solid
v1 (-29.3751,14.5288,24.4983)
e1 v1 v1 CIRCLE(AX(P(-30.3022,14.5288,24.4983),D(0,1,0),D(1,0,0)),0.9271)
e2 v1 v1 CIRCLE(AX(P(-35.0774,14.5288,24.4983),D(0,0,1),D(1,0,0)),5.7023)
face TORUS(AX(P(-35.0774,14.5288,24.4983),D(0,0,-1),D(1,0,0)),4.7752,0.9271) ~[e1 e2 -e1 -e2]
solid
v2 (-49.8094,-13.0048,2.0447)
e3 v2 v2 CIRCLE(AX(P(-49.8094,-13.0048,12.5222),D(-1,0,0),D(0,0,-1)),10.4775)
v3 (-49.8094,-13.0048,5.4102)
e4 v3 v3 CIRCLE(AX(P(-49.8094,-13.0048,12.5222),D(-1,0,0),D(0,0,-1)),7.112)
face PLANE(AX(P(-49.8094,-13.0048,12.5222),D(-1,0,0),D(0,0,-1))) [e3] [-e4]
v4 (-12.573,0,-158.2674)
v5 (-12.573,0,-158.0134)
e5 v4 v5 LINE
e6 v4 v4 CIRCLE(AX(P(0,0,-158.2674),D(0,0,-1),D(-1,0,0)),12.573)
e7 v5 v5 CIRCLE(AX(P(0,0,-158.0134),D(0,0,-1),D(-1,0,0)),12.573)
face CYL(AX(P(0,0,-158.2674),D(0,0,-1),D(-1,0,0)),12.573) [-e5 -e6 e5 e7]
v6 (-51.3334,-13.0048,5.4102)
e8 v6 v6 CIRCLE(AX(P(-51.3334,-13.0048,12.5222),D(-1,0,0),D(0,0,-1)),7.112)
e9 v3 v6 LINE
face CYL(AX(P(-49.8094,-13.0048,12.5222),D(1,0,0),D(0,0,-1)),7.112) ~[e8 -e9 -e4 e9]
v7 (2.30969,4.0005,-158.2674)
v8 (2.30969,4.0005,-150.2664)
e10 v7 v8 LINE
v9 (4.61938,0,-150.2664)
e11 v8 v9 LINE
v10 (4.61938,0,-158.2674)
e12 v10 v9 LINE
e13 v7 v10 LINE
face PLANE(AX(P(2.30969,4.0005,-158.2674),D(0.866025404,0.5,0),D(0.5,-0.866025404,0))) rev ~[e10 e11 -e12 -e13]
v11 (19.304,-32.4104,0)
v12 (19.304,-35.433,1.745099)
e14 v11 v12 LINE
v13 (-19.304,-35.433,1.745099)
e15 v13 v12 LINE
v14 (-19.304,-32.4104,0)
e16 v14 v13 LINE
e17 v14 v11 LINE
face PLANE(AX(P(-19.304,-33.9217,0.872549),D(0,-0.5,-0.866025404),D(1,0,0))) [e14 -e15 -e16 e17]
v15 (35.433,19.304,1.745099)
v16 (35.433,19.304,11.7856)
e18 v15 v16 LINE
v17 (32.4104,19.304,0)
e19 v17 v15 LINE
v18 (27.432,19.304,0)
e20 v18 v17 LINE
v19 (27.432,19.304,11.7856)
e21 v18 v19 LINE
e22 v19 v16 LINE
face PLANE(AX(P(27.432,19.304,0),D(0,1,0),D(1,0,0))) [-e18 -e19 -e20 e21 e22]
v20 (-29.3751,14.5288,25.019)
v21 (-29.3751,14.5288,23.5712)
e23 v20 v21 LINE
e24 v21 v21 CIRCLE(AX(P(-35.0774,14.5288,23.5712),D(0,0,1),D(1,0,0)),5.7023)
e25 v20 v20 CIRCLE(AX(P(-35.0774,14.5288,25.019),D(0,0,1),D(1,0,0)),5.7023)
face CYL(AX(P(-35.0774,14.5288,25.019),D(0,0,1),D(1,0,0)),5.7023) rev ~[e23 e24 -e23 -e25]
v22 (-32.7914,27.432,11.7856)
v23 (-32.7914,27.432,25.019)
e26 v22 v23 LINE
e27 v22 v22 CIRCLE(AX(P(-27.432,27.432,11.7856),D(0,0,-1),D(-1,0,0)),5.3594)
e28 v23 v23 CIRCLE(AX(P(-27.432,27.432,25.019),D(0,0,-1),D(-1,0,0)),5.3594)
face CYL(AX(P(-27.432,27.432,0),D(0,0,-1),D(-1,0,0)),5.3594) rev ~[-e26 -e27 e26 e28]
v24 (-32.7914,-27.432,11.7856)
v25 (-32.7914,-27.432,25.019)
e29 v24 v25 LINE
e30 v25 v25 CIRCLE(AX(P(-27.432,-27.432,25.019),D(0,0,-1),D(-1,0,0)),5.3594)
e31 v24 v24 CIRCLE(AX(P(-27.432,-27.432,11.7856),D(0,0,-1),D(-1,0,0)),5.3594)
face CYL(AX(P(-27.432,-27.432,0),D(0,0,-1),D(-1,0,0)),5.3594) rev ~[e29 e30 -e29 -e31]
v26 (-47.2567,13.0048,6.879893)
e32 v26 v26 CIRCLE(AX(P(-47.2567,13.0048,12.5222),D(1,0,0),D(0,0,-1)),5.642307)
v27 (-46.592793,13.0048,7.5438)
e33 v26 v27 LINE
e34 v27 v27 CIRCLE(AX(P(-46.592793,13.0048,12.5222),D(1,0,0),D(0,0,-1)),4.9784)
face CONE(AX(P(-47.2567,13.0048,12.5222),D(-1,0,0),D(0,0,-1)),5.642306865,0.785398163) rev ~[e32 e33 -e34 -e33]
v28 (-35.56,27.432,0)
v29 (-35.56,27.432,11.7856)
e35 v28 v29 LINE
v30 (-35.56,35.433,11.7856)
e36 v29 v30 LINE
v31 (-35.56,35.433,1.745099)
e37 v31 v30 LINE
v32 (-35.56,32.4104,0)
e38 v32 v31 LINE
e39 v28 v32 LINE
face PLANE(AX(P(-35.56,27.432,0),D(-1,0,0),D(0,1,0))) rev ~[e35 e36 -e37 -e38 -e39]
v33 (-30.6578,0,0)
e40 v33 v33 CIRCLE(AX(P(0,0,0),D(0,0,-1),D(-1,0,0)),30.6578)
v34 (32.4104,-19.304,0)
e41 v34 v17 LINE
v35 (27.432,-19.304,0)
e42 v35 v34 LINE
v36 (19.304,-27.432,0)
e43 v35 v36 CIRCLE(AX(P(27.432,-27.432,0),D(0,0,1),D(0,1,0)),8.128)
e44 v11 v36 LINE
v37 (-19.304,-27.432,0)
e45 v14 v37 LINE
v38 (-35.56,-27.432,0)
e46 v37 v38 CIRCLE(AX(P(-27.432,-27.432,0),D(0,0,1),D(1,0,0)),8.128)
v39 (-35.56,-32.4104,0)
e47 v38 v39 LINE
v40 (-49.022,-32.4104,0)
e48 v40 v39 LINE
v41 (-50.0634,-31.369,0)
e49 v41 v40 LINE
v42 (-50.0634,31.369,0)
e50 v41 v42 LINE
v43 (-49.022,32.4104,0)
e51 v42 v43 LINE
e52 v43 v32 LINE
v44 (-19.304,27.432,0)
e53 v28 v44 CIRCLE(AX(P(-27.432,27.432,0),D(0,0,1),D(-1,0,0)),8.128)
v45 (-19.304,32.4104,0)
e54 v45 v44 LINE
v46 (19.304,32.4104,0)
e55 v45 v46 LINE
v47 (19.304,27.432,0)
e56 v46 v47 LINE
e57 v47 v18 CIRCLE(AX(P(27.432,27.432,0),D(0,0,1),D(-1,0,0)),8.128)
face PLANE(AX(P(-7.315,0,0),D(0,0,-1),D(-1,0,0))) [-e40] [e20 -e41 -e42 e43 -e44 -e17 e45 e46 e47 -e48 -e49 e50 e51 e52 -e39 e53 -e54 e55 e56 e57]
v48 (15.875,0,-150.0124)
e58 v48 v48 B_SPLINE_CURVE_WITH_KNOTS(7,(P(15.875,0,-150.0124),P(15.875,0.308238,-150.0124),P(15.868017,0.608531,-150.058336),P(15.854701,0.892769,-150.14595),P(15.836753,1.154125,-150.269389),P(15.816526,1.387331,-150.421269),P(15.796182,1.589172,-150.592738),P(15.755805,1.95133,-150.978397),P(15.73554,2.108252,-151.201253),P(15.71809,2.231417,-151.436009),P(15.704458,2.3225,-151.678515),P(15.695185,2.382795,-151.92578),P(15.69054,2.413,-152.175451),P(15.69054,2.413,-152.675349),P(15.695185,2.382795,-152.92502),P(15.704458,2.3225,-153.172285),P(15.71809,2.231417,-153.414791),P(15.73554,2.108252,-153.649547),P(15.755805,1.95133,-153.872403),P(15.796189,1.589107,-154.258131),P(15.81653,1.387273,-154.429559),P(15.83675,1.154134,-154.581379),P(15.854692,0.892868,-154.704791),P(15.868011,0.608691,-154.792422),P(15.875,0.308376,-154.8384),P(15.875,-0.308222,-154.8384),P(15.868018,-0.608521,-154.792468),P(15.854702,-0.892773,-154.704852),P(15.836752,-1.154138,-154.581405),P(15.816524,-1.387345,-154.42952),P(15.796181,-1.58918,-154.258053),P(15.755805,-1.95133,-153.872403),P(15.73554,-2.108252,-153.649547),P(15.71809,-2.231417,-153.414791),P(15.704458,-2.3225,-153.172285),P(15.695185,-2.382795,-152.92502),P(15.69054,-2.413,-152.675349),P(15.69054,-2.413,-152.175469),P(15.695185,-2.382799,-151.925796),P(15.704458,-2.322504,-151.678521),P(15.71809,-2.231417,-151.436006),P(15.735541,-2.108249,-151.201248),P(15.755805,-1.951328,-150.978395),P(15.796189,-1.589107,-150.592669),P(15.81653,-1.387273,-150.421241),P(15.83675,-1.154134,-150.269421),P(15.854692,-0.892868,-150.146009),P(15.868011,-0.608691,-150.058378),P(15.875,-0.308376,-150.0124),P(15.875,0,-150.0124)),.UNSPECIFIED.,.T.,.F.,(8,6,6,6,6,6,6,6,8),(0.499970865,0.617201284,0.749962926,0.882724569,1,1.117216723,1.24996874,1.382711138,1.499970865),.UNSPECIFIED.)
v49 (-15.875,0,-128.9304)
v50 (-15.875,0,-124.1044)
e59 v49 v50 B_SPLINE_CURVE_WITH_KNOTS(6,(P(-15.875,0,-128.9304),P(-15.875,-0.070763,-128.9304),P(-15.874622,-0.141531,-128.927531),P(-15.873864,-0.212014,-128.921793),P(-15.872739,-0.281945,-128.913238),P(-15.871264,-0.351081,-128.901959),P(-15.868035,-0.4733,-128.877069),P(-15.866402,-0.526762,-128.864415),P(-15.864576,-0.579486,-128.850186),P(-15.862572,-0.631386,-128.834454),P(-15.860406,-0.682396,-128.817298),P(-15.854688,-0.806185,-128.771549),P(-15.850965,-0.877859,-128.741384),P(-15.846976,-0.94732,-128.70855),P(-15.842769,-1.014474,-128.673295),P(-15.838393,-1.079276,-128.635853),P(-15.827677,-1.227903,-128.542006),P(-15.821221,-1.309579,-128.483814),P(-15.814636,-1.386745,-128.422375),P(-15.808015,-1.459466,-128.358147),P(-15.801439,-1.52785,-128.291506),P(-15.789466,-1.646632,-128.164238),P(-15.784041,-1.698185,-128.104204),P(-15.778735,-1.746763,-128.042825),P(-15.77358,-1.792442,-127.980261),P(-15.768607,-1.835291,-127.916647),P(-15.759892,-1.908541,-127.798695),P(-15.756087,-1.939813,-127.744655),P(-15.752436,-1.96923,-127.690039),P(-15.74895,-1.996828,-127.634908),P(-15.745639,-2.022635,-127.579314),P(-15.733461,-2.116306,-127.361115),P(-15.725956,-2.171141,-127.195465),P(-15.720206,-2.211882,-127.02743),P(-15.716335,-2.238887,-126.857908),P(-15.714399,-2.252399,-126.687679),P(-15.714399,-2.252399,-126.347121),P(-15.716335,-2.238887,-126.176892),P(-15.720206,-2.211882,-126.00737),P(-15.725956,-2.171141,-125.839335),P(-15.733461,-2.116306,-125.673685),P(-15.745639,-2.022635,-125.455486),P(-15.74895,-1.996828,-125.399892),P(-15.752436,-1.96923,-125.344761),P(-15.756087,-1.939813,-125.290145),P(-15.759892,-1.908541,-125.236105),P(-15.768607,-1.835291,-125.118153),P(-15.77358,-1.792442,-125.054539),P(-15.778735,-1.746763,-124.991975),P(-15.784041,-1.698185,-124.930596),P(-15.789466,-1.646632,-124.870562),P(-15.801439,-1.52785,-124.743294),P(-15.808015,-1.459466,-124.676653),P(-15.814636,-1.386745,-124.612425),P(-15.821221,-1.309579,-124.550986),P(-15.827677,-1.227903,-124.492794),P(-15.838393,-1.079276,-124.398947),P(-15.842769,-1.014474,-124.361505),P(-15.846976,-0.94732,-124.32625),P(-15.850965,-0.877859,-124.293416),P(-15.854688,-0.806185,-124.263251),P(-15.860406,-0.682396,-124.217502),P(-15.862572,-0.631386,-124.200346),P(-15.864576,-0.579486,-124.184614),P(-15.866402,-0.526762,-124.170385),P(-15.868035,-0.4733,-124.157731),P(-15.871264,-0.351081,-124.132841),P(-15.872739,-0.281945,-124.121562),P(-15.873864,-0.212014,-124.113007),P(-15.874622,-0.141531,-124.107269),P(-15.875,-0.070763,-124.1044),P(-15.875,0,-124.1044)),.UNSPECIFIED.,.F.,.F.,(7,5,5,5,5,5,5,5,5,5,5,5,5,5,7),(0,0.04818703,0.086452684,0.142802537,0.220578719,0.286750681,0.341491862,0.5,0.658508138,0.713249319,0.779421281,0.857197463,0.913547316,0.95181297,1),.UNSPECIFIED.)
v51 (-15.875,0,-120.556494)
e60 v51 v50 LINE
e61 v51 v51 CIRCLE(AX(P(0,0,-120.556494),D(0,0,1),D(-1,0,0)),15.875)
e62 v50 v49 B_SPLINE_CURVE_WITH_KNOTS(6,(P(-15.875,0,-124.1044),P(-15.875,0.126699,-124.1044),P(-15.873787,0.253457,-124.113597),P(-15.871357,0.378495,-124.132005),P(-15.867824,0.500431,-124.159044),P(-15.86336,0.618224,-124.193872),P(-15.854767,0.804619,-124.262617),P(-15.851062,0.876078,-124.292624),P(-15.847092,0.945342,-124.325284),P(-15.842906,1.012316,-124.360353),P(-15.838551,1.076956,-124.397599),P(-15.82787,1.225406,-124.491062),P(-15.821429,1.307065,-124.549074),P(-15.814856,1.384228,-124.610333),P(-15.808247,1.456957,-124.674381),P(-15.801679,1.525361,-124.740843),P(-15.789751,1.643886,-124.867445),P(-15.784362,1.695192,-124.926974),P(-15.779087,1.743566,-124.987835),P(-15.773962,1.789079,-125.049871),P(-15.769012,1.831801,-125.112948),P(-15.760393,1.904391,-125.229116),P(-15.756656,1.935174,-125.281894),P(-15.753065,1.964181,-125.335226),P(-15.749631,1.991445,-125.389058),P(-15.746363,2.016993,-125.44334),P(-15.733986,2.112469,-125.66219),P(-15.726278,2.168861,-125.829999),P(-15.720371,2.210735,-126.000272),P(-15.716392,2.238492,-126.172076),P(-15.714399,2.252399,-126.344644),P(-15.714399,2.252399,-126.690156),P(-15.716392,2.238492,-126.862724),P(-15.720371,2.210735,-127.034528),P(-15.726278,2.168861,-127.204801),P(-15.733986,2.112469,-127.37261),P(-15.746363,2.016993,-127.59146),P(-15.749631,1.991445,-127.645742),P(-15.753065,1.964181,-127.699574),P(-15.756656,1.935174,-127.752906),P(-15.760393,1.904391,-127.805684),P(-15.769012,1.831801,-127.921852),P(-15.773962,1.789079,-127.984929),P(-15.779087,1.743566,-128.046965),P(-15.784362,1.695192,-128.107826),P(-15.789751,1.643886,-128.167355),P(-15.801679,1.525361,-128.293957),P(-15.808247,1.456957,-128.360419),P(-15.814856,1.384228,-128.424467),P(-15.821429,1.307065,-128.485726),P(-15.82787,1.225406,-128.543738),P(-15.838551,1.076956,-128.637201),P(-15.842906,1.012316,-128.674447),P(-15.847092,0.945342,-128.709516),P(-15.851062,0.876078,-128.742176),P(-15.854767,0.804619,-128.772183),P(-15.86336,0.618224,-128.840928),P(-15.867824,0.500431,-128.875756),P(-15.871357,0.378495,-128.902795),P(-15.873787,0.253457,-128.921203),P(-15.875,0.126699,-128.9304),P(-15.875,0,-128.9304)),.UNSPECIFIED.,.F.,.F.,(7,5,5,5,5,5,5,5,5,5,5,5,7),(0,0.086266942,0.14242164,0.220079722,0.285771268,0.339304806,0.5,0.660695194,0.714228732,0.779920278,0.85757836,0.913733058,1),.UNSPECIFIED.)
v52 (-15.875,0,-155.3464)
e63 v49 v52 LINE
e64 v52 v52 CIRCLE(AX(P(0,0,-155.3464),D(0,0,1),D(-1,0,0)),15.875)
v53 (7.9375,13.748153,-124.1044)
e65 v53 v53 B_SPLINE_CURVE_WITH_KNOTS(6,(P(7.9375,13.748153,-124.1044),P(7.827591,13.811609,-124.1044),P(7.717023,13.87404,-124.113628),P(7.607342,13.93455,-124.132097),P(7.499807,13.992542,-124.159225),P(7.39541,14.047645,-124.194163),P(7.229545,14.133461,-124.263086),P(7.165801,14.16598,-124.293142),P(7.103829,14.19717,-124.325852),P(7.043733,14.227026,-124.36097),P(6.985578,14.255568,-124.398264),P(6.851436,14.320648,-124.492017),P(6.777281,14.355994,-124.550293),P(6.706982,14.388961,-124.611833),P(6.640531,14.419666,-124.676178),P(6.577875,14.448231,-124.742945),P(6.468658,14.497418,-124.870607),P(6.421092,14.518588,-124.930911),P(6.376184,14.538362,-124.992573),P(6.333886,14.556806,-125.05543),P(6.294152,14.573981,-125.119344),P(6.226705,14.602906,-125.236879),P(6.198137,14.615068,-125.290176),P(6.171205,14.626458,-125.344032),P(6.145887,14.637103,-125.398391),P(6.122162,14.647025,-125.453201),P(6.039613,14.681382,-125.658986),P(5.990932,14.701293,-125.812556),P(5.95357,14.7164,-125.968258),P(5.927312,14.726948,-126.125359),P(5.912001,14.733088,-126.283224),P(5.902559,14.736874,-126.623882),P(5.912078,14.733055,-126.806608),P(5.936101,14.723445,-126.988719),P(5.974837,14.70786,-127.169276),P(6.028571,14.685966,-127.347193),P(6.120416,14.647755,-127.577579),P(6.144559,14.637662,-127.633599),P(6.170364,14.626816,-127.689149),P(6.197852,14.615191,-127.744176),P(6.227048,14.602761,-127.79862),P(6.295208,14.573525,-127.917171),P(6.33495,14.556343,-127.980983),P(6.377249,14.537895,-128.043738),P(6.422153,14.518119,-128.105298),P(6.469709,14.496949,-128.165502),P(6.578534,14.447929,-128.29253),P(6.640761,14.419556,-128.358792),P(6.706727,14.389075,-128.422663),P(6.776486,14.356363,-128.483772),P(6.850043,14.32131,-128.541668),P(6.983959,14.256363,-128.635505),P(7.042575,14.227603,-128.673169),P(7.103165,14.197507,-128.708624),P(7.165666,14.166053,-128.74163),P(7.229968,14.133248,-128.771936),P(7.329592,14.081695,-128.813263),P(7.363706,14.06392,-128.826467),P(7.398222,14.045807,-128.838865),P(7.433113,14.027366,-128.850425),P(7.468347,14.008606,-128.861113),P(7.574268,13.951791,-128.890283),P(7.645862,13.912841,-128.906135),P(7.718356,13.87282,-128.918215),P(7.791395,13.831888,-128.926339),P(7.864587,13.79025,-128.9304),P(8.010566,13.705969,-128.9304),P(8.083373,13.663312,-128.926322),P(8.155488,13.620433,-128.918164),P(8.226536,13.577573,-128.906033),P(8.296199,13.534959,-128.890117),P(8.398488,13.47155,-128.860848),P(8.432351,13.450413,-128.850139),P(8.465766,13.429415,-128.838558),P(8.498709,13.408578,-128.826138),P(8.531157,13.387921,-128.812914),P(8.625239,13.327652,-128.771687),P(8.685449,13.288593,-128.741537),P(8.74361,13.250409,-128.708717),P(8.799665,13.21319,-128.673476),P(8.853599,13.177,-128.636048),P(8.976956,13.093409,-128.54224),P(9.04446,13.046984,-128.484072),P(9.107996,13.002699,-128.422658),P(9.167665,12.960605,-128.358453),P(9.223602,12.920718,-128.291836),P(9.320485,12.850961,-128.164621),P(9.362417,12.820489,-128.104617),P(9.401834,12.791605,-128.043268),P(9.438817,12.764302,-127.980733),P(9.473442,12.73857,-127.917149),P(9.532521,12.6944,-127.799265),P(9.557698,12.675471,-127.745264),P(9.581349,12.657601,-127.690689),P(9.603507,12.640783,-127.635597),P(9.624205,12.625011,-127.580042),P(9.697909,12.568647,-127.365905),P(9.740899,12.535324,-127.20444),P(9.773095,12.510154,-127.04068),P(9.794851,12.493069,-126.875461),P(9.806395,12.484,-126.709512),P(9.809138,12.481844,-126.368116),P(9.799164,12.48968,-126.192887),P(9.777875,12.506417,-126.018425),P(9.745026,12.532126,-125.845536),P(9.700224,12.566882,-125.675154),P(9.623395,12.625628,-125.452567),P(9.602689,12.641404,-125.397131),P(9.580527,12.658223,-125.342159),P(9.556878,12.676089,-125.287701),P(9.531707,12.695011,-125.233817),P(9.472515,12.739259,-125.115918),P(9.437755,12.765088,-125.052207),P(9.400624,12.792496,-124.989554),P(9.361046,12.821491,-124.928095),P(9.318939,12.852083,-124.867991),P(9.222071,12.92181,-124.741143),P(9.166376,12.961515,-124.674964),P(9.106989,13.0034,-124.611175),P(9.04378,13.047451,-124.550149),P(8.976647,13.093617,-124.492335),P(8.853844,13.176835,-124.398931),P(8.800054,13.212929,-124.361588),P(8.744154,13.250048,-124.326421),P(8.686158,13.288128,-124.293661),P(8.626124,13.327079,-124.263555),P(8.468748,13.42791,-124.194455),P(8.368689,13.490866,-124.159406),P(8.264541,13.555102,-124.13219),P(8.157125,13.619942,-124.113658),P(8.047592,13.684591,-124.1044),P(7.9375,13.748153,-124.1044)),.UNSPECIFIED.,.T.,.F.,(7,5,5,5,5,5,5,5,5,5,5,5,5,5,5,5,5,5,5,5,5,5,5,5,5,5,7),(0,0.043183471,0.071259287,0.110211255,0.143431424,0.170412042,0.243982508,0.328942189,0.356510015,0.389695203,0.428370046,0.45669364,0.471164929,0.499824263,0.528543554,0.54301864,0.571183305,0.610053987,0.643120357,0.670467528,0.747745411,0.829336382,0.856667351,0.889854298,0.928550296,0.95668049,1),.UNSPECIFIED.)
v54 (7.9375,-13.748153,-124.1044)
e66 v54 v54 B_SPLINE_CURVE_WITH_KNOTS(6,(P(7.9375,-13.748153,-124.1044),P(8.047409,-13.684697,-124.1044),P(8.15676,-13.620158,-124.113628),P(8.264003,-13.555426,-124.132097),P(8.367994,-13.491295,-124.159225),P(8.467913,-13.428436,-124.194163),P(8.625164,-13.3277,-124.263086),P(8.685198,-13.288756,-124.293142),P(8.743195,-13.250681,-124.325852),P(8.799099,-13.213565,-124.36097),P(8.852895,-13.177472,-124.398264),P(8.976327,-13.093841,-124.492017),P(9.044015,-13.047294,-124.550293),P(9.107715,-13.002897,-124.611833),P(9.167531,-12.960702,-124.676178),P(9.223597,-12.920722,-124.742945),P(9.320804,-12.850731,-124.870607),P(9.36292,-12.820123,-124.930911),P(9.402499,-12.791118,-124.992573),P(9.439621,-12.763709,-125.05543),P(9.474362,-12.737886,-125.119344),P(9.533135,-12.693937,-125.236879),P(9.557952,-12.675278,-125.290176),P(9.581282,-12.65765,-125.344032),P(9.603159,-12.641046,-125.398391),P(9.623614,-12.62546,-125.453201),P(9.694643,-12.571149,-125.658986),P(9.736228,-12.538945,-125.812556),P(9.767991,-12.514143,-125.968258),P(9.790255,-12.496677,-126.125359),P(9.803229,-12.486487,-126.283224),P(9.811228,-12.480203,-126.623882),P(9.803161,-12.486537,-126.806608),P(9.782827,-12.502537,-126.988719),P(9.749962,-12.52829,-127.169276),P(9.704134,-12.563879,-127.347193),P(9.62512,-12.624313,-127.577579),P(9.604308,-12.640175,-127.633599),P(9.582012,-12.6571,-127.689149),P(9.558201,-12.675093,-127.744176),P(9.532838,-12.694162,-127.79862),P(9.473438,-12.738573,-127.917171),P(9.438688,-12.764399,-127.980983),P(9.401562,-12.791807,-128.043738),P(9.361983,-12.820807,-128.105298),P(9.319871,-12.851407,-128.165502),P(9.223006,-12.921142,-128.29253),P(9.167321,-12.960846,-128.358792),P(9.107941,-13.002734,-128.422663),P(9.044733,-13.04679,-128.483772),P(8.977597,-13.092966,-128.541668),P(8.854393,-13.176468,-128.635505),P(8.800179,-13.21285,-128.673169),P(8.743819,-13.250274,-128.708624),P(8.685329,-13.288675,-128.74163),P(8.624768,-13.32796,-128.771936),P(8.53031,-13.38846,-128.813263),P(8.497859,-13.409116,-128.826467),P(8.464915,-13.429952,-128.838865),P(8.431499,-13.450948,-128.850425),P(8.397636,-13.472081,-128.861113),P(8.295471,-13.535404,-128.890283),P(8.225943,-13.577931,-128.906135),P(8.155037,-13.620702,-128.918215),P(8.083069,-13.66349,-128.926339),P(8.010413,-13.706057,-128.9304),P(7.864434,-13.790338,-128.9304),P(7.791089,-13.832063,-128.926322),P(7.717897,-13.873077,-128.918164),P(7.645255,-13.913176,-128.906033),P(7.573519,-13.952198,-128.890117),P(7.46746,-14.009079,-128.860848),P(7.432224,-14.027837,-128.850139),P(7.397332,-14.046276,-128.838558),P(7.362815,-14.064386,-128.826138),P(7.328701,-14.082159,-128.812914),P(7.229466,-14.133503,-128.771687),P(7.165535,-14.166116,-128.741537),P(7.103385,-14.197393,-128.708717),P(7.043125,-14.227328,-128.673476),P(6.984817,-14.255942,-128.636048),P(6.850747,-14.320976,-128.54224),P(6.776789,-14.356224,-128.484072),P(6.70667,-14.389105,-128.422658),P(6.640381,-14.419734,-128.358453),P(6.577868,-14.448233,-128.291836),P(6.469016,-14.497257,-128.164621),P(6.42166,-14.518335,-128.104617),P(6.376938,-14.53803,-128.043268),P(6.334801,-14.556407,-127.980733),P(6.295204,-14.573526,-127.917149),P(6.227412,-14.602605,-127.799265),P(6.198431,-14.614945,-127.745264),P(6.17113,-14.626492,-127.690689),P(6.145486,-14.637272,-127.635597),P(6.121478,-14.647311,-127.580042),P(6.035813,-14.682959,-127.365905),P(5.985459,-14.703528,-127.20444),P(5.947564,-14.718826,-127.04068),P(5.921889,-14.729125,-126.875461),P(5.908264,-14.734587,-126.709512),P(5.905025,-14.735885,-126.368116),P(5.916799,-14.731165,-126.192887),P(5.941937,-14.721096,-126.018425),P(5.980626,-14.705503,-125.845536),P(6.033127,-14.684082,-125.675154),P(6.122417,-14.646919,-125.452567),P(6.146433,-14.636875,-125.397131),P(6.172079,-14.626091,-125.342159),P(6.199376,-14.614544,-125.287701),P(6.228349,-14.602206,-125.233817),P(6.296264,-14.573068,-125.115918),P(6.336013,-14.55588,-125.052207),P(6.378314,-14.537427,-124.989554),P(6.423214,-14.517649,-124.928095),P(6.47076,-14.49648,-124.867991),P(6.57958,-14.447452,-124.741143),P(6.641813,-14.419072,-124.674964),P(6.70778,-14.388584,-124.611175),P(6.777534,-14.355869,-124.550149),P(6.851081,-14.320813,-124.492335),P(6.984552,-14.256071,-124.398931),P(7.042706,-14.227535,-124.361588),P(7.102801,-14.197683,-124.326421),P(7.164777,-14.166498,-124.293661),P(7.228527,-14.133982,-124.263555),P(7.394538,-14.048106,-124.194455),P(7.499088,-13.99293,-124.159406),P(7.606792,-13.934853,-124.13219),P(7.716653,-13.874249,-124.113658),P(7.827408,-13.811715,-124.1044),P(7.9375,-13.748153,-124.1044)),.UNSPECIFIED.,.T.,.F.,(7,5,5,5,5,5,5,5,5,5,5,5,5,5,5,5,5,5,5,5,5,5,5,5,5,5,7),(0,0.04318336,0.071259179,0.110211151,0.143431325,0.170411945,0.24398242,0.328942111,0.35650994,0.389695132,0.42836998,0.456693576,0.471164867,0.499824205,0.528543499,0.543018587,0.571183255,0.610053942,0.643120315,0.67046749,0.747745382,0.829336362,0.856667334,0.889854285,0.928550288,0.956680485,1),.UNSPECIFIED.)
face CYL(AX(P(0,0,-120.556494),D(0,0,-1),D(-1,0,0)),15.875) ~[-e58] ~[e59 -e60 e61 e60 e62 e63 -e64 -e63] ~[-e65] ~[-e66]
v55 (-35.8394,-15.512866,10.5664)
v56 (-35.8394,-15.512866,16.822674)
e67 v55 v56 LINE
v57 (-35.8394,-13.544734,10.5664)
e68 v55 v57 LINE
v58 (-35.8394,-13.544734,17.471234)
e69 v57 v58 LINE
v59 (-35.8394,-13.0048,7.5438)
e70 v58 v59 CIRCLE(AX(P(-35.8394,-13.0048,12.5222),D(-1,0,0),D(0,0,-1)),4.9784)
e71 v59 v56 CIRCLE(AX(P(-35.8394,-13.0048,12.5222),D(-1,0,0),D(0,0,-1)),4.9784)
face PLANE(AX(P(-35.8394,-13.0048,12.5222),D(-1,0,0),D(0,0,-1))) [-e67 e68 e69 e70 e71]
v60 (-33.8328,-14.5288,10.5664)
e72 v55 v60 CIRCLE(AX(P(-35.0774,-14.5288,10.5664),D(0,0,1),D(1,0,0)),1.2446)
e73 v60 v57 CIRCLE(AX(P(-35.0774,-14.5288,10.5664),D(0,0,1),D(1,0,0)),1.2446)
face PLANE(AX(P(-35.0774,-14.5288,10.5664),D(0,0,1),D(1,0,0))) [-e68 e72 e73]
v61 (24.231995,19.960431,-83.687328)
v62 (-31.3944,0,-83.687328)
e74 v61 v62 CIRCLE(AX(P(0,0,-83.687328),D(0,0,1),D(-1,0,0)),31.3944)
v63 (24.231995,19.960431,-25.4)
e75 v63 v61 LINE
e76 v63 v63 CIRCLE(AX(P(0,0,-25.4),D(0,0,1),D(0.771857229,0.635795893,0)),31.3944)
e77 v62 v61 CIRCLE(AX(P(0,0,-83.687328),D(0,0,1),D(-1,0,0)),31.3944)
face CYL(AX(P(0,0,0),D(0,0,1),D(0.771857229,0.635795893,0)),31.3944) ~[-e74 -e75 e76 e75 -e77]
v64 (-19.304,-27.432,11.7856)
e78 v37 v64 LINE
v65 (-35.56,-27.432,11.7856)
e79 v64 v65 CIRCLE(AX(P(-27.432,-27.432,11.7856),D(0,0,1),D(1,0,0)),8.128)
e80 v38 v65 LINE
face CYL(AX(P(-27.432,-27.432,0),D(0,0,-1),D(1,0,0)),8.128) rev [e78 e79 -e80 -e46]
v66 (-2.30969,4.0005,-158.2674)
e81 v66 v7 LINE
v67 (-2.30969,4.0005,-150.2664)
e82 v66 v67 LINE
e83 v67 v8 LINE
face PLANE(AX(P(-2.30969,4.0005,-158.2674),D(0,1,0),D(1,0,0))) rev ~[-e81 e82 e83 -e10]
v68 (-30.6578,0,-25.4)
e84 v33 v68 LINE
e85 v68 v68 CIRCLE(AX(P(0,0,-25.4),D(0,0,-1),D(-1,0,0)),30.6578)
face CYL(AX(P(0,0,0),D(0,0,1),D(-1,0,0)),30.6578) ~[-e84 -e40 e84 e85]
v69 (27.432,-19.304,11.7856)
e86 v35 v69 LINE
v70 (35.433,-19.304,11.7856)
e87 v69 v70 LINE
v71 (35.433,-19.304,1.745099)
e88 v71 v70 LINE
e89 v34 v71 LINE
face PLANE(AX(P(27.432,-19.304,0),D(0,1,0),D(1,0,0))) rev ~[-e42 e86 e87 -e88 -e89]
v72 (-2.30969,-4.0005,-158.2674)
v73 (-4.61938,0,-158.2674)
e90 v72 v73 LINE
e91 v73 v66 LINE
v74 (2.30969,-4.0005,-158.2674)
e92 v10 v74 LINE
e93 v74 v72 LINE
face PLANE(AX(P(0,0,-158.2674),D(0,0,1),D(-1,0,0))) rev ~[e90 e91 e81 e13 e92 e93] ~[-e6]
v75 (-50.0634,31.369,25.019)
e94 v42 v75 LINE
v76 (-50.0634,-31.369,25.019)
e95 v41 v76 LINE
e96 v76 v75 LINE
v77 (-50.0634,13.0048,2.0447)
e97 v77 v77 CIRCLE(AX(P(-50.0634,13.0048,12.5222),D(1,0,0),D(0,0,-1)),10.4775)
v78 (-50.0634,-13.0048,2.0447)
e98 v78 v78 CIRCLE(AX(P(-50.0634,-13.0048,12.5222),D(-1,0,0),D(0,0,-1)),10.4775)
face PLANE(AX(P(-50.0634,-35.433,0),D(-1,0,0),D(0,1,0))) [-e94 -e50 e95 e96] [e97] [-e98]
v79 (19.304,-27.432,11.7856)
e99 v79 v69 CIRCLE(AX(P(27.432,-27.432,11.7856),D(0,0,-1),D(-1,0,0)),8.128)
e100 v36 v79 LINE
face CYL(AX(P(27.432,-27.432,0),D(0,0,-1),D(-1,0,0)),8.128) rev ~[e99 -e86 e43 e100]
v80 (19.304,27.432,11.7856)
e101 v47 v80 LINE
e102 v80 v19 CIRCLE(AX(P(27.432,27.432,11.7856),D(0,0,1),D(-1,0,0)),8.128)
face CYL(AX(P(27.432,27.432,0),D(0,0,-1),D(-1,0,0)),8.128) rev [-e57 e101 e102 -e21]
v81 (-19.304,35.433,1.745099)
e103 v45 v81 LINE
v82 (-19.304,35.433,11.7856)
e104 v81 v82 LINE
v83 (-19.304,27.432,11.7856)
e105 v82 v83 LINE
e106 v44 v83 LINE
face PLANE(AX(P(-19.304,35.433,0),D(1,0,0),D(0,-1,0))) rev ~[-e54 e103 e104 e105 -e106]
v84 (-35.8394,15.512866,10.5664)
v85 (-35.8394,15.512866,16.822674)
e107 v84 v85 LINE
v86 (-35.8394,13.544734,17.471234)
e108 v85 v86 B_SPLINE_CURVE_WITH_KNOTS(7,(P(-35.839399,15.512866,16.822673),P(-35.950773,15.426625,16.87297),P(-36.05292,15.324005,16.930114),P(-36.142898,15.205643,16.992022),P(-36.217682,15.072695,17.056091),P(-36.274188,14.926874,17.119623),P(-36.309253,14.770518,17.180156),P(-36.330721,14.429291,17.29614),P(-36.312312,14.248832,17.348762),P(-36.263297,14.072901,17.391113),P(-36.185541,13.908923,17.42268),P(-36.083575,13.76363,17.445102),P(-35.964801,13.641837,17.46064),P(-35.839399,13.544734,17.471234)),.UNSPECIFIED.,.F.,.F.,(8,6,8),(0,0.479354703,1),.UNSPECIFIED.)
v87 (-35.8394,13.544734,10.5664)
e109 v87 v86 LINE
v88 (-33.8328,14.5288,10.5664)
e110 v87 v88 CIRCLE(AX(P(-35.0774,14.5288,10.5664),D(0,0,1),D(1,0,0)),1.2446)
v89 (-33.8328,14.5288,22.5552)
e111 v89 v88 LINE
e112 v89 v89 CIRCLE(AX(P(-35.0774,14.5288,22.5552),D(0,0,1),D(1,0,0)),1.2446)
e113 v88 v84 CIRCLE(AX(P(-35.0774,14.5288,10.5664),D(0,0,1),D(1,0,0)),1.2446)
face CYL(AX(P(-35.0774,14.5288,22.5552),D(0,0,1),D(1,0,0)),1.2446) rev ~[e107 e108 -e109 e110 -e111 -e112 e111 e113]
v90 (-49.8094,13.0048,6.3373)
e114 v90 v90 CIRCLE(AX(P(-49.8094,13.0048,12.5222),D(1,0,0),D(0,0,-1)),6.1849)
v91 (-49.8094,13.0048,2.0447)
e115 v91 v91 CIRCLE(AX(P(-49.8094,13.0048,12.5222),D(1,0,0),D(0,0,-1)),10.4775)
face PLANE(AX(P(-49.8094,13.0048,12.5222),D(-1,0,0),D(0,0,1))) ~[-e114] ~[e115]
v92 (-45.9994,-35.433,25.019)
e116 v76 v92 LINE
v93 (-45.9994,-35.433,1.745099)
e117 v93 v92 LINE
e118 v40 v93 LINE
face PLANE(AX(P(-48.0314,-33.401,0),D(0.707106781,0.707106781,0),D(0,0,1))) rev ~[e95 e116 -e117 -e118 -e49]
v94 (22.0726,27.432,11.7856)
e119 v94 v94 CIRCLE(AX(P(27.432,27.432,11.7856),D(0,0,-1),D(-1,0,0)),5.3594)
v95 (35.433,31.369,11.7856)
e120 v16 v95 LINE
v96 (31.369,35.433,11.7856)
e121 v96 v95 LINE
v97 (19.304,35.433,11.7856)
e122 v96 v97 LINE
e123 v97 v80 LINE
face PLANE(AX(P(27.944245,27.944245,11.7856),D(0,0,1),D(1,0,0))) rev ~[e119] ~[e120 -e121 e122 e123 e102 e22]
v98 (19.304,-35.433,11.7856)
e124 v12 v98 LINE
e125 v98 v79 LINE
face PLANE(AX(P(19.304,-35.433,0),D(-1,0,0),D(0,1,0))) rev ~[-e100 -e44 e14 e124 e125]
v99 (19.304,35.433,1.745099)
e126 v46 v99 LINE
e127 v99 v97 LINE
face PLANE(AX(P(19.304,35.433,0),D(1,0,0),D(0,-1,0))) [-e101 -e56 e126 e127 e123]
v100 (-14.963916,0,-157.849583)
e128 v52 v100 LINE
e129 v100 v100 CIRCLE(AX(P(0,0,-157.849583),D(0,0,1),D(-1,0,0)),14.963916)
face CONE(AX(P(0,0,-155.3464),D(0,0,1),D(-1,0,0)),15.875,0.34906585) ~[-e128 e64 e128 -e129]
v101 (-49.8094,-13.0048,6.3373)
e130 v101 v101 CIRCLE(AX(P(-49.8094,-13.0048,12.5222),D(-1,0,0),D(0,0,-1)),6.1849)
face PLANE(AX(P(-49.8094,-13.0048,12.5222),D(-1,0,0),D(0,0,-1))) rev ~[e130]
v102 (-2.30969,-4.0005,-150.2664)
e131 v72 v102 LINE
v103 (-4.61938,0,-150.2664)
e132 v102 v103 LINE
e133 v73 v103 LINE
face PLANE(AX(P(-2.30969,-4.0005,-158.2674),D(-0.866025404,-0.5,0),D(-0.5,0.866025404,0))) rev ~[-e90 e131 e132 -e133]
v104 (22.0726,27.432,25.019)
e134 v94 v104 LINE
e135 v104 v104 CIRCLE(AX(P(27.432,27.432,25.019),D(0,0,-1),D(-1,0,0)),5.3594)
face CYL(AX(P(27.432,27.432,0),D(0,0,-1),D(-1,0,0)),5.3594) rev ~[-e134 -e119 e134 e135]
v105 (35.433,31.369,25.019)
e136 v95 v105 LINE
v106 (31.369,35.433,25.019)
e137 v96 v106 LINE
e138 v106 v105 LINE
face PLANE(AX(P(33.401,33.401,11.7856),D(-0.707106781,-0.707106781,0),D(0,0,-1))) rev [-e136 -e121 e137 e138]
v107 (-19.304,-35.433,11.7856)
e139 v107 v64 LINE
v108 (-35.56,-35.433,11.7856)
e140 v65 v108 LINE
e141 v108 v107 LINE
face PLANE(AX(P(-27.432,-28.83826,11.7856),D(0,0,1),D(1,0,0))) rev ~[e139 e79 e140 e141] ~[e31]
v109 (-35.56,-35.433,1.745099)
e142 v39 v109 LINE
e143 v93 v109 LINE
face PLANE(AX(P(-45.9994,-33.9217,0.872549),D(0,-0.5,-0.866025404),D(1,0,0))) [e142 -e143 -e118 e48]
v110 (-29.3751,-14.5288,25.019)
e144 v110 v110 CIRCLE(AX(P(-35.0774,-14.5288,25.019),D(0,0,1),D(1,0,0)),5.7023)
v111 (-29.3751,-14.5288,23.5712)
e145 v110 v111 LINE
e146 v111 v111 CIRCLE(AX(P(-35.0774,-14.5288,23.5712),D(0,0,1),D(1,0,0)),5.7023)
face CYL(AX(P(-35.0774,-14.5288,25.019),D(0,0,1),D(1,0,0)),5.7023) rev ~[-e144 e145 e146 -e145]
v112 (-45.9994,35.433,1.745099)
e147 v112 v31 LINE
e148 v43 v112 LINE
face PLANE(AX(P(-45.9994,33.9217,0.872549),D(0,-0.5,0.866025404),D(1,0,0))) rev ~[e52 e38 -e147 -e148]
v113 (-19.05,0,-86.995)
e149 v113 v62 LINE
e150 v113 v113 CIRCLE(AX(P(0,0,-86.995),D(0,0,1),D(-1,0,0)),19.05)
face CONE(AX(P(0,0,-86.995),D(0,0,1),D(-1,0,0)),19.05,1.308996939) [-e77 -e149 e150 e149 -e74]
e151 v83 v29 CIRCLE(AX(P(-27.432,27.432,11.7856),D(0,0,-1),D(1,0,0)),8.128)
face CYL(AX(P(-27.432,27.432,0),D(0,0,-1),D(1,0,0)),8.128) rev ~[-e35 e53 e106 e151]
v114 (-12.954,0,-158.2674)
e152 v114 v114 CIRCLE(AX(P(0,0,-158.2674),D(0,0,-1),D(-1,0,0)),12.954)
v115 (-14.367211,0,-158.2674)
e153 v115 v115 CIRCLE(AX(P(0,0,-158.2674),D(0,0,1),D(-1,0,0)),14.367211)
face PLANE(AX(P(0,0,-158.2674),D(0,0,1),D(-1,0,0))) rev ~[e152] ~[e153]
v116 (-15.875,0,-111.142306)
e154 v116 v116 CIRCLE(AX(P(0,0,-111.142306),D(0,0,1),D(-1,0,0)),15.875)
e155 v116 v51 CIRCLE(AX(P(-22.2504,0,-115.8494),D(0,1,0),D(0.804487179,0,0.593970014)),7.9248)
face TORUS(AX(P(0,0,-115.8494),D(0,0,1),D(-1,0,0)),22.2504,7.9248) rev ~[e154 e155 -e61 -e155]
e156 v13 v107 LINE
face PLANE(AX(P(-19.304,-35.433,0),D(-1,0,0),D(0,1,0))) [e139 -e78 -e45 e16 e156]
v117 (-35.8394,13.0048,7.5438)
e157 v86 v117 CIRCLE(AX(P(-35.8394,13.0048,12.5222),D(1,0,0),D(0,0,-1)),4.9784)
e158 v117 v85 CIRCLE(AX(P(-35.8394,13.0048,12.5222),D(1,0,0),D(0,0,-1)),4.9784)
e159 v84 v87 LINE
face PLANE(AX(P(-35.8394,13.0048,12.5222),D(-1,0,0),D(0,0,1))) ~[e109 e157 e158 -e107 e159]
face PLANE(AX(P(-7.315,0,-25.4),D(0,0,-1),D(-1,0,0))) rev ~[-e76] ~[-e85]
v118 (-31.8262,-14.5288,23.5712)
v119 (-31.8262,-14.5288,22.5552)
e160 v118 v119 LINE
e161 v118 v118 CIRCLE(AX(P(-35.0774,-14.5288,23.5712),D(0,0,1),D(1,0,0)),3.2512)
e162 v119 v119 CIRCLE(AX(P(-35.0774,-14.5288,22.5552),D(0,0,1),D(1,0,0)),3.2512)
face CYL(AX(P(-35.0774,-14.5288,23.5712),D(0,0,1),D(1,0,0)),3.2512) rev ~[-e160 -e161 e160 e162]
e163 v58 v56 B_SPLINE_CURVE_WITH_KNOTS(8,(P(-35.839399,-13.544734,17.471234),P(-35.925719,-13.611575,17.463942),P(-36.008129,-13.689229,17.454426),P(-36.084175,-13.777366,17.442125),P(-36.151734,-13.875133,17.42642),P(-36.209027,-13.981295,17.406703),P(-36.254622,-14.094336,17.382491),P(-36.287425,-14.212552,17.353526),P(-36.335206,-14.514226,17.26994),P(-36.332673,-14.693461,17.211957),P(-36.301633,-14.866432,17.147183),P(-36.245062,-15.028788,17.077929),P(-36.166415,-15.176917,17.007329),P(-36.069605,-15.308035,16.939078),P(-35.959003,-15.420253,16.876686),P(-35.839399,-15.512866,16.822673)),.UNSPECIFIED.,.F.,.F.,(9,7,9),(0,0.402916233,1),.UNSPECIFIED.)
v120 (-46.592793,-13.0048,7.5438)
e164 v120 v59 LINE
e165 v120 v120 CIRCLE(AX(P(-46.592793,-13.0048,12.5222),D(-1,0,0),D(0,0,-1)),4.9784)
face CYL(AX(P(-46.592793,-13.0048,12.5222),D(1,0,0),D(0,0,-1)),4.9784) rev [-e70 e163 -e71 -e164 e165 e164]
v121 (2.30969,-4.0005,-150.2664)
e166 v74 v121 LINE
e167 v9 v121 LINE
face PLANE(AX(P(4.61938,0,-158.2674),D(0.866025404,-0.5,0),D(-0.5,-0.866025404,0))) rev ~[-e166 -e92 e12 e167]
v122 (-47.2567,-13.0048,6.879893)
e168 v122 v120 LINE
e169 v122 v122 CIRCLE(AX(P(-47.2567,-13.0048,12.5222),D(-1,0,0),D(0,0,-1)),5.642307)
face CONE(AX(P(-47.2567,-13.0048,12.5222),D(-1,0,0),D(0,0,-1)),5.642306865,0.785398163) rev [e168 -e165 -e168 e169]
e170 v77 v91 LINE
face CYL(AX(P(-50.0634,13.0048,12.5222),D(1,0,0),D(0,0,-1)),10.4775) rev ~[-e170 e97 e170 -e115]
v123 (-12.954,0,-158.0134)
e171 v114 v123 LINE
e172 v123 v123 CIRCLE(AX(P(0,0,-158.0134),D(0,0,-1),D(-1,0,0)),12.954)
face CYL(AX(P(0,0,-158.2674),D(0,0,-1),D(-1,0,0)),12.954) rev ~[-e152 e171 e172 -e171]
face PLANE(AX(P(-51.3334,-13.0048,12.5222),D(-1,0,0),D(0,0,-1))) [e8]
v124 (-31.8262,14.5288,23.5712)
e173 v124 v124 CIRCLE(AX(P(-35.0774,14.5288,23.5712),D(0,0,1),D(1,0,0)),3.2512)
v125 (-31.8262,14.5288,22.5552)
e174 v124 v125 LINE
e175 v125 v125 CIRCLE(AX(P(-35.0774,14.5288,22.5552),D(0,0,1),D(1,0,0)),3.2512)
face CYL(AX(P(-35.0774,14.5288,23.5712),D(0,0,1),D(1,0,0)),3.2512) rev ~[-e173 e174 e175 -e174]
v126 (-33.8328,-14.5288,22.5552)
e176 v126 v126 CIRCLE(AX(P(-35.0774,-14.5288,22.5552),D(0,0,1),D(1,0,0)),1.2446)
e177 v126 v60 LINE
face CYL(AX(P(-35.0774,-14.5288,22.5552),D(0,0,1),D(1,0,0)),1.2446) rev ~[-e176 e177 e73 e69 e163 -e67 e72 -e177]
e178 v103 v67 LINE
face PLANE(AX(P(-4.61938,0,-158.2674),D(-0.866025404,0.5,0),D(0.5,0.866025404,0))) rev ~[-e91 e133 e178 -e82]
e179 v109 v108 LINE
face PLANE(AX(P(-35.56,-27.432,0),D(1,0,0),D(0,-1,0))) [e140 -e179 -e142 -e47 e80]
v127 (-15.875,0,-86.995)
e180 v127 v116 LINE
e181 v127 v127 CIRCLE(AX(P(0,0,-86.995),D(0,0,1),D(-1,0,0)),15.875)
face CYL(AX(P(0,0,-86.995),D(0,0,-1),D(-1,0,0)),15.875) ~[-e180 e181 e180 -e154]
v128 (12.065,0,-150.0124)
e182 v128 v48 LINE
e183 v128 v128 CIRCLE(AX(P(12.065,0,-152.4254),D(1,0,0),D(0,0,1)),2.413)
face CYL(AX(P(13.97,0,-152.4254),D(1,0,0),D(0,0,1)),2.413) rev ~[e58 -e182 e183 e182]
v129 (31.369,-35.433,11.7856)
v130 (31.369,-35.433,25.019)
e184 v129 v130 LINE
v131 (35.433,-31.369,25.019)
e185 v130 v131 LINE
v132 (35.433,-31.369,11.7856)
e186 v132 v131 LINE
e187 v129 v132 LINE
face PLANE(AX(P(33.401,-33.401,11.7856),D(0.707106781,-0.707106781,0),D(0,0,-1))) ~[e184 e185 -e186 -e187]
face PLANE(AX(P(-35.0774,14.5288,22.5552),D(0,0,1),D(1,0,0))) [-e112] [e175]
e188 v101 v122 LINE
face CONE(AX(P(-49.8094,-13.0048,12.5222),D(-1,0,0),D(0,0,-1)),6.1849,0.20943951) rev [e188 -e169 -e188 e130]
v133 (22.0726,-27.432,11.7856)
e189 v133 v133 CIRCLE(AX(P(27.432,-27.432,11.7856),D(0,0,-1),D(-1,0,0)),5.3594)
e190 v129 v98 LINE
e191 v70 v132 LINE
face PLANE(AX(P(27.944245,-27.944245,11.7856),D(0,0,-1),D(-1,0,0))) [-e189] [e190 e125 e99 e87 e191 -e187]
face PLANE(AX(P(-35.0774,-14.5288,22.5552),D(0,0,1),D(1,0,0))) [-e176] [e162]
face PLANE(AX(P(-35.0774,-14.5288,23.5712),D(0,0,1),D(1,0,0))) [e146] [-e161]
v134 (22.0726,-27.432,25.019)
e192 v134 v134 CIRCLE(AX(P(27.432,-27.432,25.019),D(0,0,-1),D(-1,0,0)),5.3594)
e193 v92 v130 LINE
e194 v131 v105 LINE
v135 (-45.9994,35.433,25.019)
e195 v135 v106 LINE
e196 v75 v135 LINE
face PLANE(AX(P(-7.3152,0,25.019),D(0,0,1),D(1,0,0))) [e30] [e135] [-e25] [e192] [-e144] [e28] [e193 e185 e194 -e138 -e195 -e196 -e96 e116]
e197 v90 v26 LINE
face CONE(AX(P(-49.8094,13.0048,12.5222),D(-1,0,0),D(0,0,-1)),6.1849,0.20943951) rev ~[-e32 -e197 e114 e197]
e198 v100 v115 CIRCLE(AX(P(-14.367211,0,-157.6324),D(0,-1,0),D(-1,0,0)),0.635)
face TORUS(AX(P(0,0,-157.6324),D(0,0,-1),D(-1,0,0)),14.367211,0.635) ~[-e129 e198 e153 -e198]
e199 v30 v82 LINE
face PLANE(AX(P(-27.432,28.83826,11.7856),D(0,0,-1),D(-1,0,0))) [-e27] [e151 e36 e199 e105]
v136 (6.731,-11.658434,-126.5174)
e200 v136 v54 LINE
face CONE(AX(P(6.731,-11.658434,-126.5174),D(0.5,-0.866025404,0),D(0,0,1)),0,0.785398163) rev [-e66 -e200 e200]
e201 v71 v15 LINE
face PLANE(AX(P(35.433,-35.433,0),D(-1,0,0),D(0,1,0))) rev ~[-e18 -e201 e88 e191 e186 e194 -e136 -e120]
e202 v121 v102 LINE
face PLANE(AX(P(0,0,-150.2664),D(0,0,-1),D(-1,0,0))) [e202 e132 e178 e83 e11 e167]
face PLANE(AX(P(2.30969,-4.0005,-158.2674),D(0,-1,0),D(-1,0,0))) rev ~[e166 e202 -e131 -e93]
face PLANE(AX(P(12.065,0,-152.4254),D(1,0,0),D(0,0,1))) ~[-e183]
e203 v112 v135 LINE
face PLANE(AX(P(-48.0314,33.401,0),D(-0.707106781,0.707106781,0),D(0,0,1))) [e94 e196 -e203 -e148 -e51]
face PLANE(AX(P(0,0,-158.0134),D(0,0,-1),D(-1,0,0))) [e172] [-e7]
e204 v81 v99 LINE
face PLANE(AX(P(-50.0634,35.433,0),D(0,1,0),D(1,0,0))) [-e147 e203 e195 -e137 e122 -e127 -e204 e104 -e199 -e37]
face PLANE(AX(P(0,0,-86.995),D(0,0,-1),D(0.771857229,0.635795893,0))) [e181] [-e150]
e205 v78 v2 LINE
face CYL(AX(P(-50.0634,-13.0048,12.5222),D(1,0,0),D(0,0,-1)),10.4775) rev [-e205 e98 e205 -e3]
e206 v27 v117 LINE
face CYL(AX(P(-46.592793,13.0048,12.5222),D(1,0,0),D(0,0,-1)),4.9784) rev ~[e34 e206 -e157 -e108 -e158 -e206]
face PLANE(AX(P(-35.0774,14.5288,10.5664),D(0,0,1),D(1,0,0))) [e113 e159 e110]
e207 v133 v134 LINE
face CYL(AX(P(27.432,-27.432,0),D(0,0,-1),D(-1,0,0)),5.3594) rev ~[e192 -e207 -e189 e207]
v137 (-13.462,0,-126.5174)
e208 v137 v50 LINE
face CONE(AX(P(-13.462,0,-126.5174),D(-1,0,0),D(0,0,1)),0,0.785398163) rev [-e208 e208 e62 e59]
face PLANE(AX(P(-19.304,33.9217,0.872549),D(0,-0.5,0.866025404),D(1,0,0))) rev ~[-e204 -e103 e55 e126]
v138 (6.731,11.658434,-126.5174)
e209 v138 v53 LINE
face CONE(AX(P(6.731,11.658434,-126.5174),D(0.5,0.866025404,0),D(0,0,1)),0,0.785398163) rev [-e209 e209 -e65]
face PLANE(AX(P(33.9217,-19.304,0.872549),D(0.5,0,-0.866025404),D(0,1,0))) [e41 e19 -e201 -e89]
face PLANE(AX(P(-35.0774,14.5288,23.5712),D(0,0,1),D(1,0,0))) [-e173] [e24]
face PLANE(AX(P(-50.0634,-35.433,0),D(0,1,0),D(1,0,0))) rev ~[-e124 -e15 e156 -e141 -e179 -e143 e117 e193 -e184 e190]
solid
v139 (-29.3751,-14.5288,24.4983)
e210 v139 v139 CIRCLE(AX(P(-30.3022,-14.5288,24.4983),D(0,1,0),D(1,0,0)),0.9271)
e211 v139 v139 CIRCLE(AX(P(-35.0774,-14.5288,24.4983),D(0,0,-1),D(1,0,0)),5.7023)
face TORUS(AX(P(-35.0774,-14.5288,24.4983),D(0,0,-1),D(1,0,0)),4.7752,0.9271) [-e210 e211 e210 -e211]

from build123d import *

# Parameters (mm, degrees)
SKETCH1_W            = 85.4964
SKETCH1_H            = 70.866
EXTRUDE1_DEPTH       = 25.019
SKETCH2_R            = 5.3594
CUT_EXTRUDE1_DEPTH   = 27.5209
LPATTERN1_COUNT      = 2
LPATTERN1_PITCH      = 54.864
LPATTERN1_COUNT_DIR2 = 2
LPATTERN1_PITCH_DIR2 = 54.864
CUT_EXTRUDE2_DEPTH   = 11.7856
SKETCH6_R            = 5.7023
CUT_EXTRUDE3_DEPTH   = 1.4478
SKETCH7_R            = 3.2512
CUT_EXTRUDE4_DEPTH   = 1.016
SKETCH8_R            = 1.2446
CUT_EXTRUDE5_DEPTH   = 11.9888
SKETCH9_R            = 0.9271
CHAMFER1_SIZE        = 4.064
CHAMFER2_SIZE        = 3.0226
CHAMFER2_SIZE2       = 1.745098924
SKETCH14_R           = 31.3944
EXTRUDE2_DEPTH       = 86.995
SKETCH15_OUTSIDE_W   = 119.1
SKETCH15_OUTSIDE_H   = 104.47
SKETCH15_OUTSIDE_R   = 30.6578
CUT_EXTRUDE9_DEPTH   = 25.4
SKETCH19_R           = 7.112
EXTRUDE3_DEPTH       = 1.524
SKETCH20_R           = 12.954
SKETCH20_R_2         = 12.573
CUT_EXTRUDE10_DEPTH  = 0.254
CUT_EXTRUDE11_DEPTH  = 8.001
CIRPATTERN1_COUNT    = 3
SKETCH23_W           = 3.81
SKETCH23_H           = 2.413
FILLET1_R            = 0.635


with BuildPart() as part:
    # Sketch1 → Extrude1 (new body)
    with BuildSketch(Plane.XY):
        with Locations((-7.3152, 0)):
            Rectangle(SKETCH1_W, SKETCH1_H)
    extrude(amount=EXTRUDE1_DEPTH)

    # Sketch2 → Cut-Extrude1 (cut)
    with BuildSketch(Plane(origin=(0, 0, 0), x_dir=(-1, 0, 0), z_dir=(0, 0, -1))):
        with Locations((-27.432, -27.432)):
            Circle(SKETCH2_R)
    cut_extrude1 = extrude(amount=-CUT_EXTRUDE1_DEPTH, mode=Mode.SUBTRACT)

    # LPattern1: Cut-Extrude1 2 × 2
    with Locations(*[(-j * LPATTERN1_PITCH_DIR2, i * LPATTERN1_PITCH, 0) for i in range(LPATTERN1_COUNT) for j in range(LPATTERN1_COUNT_DIR2) if (i, j) != (0, 0)]):
        add(cut_extrude1, mode=Mode.SUBTRACT)

    # Sketch3 → Cut-Extrude2 (cut)
    with BuildSketch(Plane(origin=(0, 0, 0), x_dir=(-1, 0, 0), z_dir=(0, 0, -1))):
        with BuildLine():
            Line((-27.432, -19.304), (-35.433, -19.304))
            Line((-35.433, -19.304), (-35.433, -35.433))
            Line((-35.433, -35.433), (-19.304, -35.433))
            Line((-19.304, -35.433), (-19.304, -27.432))
            ThreePointArc((-19.304, -27.432), (-21.684636083, -21.684636083), (-27.432, -19.304))
        make_face()
        with BuildLine():
            Line((-35.433, 19.304), (-35.433, 35.433))
            Line((-35.433, 35.433), (-19.304, 35.433))
            Line((-19.304, 35.433), (-19.304, 27.432))
            ThreePointArc((-19.304, 27.432), (-21.684636083, 21.684636083), (-27.432, 19.304))
            Line((-27.432, 19.304), (-35.433, 19.304))
        make_face()
        with BuildLine():
            Line((19.304, 35.433), (19.304, 27.432))
            ThreePointArc((19.304, 27.432), (27.432, 19.304), (35.56, 27.432))
            Line((35.56, 27.432), (35.56, 35.433))
            Line((35.56, 35.433), (19.304, 35.433))
        make_face()
        with BuildLine():
            Line((35.56, -35.433), (19.304, -35.433))
            Line((19.304, -35.433), (19.304, -27.432))
            ThreePointArc((19.304, -27.432), (27.432, -19.304), (35.56, -27.432))
            Line((35.56, -27.432), (35.56, -35.433))
        make_face()
    extrude(amount=-CUT_EXTRUDE2_DEPTH, mode=Mode.SUBTRACT)

    # S2D0007 → Cut-Revolve1 (revolve, cut)
    with BuildSketch(Plane(origin=(-55.5498, -13.0048, 12.5222), x_dir=(0, 1, 0), z_dir=(0, 0, 1)), mode=Mode.PRIVATE) as cut_revolve1_sk:
        Polygon((0, -5.4864), (10.4775, -5.4864), (10.4775, -5.7404), (6.1849, -5.7404), (5.642306865, -8.2931), (4.9784, -8.957006865), (4.9784, -19.7104), (0, -19.7104), align=None)
    cut_revolve1 = revolve(cut_revolve1_sk.sketch.rotate(Axis((-35.077219214, -13.0048, 12.5222), (-1, 0, 0)), 90), axis=Axis((-35.077219214, -13.0048, 12.5222), (-1, 0, 0)), mode=Mode.SUBTRACT)  # turned: the seam where the file's is

    # Mirror1: Cut-Revolve1 across plane
    add(cut_revolve1.mirror(Plane.ZX), mode=Mode.SUBTRACT)

    # Sketch6 → Cut-Extrude3 (cut)
    with BuildSketch(Plane.XY.offset(25.019)):
        with Locations((-35.0774, -14.5288)):
            Circle(SKETCH6_R)
        with Locations((-35.0774, 14.5288)):
            Circle(SKETCH6_R)
    extrude(amount=-CUT_EXTRUDE3_DEPTH, mode=Mode.SUBTRACT)

    # Sketch7 → Cut-Extrude4 (cut)
    with BuildSketch(Plane.XY.offset(23.5712)):
        with Locations((-35.0774, 14.5288)):
            Circle(SKETCH7_R)
        with Locations((-35.0774, -14.5288)):
            Circle(SKETCH7_R)
    extrude(amount=-CUT_EXTRUDE4_DEPTH, mode=Mode.SUBTRACT)

    # Sketch8 → Cut-Extrude5 (cut)
    with BuildSketch(Plane.XY.offset(22.5552)):
        with Locations((-35.0774, 14.5288)):
            Circle(SKETCH8_R)
        with Locations((-35.0774, -14.5288)):
            Circle(SKETCH8_R)
    extrude(amount=-CUT_EXTRUDE5_DEPTH, mode=Mode.SUBTRACT)

    # Chamfer1
    chamfer1_edges = [part.edges().sort_by_distance(p)[0] for p in [
        (-50.0634, 35.433, 12.5095),
        (35.433, 35.433, 18.4023),
        (35.433, -35.433, 18.4023),
        (-50.0634, -35.433, 12.5095),
    ]]
    chamfer(chamfer1_edges, length=CHAMFER1_SIZE)

    # Chamfer2
    chamfer2_edges = [part.edges().sort_by_distance(p)[0] for p in [
        (-40.7797, -35.433, 0),
        (35.433, 0, 0),
        (0, 35.433, 0),
        (-40.7797, 35.433, 0),
        (0, -35.433, 0),
    ]]
    chamfer2_side = [part.faces().sort_by_distance(p)[0] for p in [
        (-8.721448678, 0, 0),
    ]]
    chamfer(chamfer2_edges, length=CHAMFER2_SIZE, length2=CHAMFER2_SIZE2, reference=chamfer2_side[0])

    # Sketch14 → Extrude2 (add)
    with BuildSketch(Plane(origin=(0, 0, 0), x_dir=(-1, 0, 0), z_dir=(0, 0, -1))):
        with Locations(Location((0, 0, 0), (0, 0, 140.520960584))):  # turned: the seam where the file's is
            Circle(SKETCH14_R)
    extrude(amount=EXTRUDE2_DEPTH)

    # Sketch15 outside → Cut-Extrude9 (cut)
    with BuildSketch(Plane(origin=(0, 0, 0), x_dir=(-1, 0, 0), z_dir=(0, 0, -1))):
        with Locations((7.315, 0)):
            Rectangle(SKETCH15_OUTSIDE_W, SKETCH15_OUTSIDE_H)
        Circle(SKETCH15_OUTSIDE_R, mode=Mode.SUBTRACT)
    extrude(amount=CUT_EXTRUDE9_DEPTH, mode=Mode.SUBTRACT)

    # Sketch16 → Cut-Revolve3 (revolve, cut)
    with BuildSketch(Plane(origin=(0, 0, 0), x_dir=(0, 0, 1), z_dir=(1, 0, 0)), mode=Mode.PRIVATE) as cut_revolve3_sk:
        Polygon((-86.995, 19.05), (-83.687327989, 31.3944), (-86.995, 31.3944), align=None)
    revolve(cut_revolve3_sk.sketch.rotate(Axis((0, 0, -96.582204284), (0, 0, 1)), 270), axis=Axis((0, 0, -96.582204284), (0, 0, 1)), mode=Mode.SUBTRACT)  # turned: the seam where the file's is

    # Sketch17 → Revolve3 (revolve)
    with BuildSketch(Plane(origin=(0, 0, 0), x_dir=(0, 0, 1), z_dir=(1, 0, 0)), mode=Mode.PRIVATE) as revolve3_sk:
        with BuildLine():
            Line((-86.995, 0), (-86.995, 15.875))
            Line((-86.995, 15.875), (-111.14230643, 15.875))
            ThreePointArc((-111.14230643, 15.875), (-115.8494, 14.3256), (-120.55649357, 15.875))
            Line((-120.55649357, 15.875), (-155.3464, 15.875))
            Line((-155.3464, 15.875), (-158.2674, 14.811842946))
            Line((-158.2674, 14.811842946), (-158.2674, 0))
            Line((-158.2674, 0), (-86.995, 0))
        make_face()
    revolve(revolve3_sk.sketch.rotate(Axis((0, 0, -180.9369), (0, 0, 1)), 270), axis=Axis((0, 0, -180.9369), (0, 0, 1)))  # turned: the seam where the file's is

    # Sketch19 → Extrude3 (add)
    with BuildSketch(Plane.ZY.offset(49.8094)):
        with Locations(Location((12.5222, -13.0048, 0), (0, 0, 180))):  # turned: the seam where the file's is
            Circle(SKETCH19_R)
    extrude(amount=EXTRUDE3_DEPTH)

    # Sketch20 → Cut-Extrude10 (cut)
    with BuildSketch(Plane(origin=(0, 0, -158.2674), x_dir=(-1, 0, 0), z_dir=(0, 0, -1))):
        Circle(SKETCH20_R)
        Circle(SKETCH20_R_2, mode=Mode.SUBTRACT)
    extrude(amount=-CUT_EXTRUDE10_DEPTH, mode=Mode.SUBTRACT)

    # Sketch21 → Cut-Extrude11 (cut)
    with BuildSketch(Plane(origin=(0, 0, -158.2674), x_dir=(-1, 0, 0), z_dir=(0, 0, -1))):
        Polygon((4.619379504, 0), (2.309689752, 4.0005), (-2.309689752, 4.0005), (-4.619379504, 0), (-2.309689752, -4.0005), (2.309689752, -4.0005), align=None)
    extrude(amount=-CUT_EXTRUDE11_DEPTH, mode=Mode.SUBTRACT)

    # Sketch22 → Cut-Revolve4 (revolve, cut)
    with BuildSketch(Plane(origin=(0, 0, 0), x_dir=(1, 0, 0), z_dir=(0, 1, 0)), mode=Mode.PRIVATE) as cut_revolve4_sk:
        Polygon((-15.875, 128.9304), (-15.875, 126.5174), (-13.462, 126.5174), align=None)
    cut_revolve4 = revolve(cut_revolve4_sk.sketch.rotate(Axis((-21.668802649, 0, -126.5174), (1, 0, 0)), 180), axis=Axis((-21.668802649, 0, -126.5174), (1, 0, 0)), mode=Mode.SUBTRACT)  # turned: the seam where the file's is

    # CirPattern1: Cut-Revolve4 ×3 about axis
    cirpattern1_axis = Axis((0, 0, -180.9369), (0, 0, -1))
    for i in range(1, CIRPATTERN1_COUNT):
        add(cut_revolve4.rotate(cirpattern1_axis, i * 360 / CIRPATTERN1_COUNT), mode=Mode.SUBTRACT)

    # Sketch23 → Cut-Revolve5 (revolve, cut)
    with BuildSketch(Plane(origin=(0, 0, 0), x_dir=(1, 0, 0), z_dir=(0, 1, 0)), mode=Mode.PRIVATE) as cut_revolve5_sk:
        with Locations((13.97, 153.6319)):
            Rectangle(SKETCH23_W, SKETCH23_H)
    revolve(cut_revolve5_sk.sketch.rotate(Axis((-15.875, 0, -152.4254), (1, 0, 0)), 180), axis=Axis((-15.875, 0, -152.4254), (1, 0, 0)), mode=Mode.SUBTRACT)  # turned: the seam where the file's is

    # Fillet1
    fillet1_edges = [part.edges().sort_by_distance(p)[0] for p in [
        (14.811842946, 0, -158.2674),
    ]]
    fillet(fillet1_edges, radius=FILLET1_R)


with BuildPart() as body_2:
    # Sketch9 → Revolve1 (revolve)
    with BuildSketch(Plane(origin=(-41.656, -14.5288, 23.5712), x_dir=(1, 0, 0), z_dir=(0, 1, 0))):
        with Locations((11.3538, -0.9271)):
            Circle(SKETCH9_R)
    revolve(axis=Axis((-35.0774, -14.5288, 25.51811), (0, 0, -1)))


with BuildPart() as body_3:
    # Mirror2: mirrored copy
    add(body_2.part.mirror(Plane.ZX))


solid = Compound([part.part, body_2.part, body_3.part])
